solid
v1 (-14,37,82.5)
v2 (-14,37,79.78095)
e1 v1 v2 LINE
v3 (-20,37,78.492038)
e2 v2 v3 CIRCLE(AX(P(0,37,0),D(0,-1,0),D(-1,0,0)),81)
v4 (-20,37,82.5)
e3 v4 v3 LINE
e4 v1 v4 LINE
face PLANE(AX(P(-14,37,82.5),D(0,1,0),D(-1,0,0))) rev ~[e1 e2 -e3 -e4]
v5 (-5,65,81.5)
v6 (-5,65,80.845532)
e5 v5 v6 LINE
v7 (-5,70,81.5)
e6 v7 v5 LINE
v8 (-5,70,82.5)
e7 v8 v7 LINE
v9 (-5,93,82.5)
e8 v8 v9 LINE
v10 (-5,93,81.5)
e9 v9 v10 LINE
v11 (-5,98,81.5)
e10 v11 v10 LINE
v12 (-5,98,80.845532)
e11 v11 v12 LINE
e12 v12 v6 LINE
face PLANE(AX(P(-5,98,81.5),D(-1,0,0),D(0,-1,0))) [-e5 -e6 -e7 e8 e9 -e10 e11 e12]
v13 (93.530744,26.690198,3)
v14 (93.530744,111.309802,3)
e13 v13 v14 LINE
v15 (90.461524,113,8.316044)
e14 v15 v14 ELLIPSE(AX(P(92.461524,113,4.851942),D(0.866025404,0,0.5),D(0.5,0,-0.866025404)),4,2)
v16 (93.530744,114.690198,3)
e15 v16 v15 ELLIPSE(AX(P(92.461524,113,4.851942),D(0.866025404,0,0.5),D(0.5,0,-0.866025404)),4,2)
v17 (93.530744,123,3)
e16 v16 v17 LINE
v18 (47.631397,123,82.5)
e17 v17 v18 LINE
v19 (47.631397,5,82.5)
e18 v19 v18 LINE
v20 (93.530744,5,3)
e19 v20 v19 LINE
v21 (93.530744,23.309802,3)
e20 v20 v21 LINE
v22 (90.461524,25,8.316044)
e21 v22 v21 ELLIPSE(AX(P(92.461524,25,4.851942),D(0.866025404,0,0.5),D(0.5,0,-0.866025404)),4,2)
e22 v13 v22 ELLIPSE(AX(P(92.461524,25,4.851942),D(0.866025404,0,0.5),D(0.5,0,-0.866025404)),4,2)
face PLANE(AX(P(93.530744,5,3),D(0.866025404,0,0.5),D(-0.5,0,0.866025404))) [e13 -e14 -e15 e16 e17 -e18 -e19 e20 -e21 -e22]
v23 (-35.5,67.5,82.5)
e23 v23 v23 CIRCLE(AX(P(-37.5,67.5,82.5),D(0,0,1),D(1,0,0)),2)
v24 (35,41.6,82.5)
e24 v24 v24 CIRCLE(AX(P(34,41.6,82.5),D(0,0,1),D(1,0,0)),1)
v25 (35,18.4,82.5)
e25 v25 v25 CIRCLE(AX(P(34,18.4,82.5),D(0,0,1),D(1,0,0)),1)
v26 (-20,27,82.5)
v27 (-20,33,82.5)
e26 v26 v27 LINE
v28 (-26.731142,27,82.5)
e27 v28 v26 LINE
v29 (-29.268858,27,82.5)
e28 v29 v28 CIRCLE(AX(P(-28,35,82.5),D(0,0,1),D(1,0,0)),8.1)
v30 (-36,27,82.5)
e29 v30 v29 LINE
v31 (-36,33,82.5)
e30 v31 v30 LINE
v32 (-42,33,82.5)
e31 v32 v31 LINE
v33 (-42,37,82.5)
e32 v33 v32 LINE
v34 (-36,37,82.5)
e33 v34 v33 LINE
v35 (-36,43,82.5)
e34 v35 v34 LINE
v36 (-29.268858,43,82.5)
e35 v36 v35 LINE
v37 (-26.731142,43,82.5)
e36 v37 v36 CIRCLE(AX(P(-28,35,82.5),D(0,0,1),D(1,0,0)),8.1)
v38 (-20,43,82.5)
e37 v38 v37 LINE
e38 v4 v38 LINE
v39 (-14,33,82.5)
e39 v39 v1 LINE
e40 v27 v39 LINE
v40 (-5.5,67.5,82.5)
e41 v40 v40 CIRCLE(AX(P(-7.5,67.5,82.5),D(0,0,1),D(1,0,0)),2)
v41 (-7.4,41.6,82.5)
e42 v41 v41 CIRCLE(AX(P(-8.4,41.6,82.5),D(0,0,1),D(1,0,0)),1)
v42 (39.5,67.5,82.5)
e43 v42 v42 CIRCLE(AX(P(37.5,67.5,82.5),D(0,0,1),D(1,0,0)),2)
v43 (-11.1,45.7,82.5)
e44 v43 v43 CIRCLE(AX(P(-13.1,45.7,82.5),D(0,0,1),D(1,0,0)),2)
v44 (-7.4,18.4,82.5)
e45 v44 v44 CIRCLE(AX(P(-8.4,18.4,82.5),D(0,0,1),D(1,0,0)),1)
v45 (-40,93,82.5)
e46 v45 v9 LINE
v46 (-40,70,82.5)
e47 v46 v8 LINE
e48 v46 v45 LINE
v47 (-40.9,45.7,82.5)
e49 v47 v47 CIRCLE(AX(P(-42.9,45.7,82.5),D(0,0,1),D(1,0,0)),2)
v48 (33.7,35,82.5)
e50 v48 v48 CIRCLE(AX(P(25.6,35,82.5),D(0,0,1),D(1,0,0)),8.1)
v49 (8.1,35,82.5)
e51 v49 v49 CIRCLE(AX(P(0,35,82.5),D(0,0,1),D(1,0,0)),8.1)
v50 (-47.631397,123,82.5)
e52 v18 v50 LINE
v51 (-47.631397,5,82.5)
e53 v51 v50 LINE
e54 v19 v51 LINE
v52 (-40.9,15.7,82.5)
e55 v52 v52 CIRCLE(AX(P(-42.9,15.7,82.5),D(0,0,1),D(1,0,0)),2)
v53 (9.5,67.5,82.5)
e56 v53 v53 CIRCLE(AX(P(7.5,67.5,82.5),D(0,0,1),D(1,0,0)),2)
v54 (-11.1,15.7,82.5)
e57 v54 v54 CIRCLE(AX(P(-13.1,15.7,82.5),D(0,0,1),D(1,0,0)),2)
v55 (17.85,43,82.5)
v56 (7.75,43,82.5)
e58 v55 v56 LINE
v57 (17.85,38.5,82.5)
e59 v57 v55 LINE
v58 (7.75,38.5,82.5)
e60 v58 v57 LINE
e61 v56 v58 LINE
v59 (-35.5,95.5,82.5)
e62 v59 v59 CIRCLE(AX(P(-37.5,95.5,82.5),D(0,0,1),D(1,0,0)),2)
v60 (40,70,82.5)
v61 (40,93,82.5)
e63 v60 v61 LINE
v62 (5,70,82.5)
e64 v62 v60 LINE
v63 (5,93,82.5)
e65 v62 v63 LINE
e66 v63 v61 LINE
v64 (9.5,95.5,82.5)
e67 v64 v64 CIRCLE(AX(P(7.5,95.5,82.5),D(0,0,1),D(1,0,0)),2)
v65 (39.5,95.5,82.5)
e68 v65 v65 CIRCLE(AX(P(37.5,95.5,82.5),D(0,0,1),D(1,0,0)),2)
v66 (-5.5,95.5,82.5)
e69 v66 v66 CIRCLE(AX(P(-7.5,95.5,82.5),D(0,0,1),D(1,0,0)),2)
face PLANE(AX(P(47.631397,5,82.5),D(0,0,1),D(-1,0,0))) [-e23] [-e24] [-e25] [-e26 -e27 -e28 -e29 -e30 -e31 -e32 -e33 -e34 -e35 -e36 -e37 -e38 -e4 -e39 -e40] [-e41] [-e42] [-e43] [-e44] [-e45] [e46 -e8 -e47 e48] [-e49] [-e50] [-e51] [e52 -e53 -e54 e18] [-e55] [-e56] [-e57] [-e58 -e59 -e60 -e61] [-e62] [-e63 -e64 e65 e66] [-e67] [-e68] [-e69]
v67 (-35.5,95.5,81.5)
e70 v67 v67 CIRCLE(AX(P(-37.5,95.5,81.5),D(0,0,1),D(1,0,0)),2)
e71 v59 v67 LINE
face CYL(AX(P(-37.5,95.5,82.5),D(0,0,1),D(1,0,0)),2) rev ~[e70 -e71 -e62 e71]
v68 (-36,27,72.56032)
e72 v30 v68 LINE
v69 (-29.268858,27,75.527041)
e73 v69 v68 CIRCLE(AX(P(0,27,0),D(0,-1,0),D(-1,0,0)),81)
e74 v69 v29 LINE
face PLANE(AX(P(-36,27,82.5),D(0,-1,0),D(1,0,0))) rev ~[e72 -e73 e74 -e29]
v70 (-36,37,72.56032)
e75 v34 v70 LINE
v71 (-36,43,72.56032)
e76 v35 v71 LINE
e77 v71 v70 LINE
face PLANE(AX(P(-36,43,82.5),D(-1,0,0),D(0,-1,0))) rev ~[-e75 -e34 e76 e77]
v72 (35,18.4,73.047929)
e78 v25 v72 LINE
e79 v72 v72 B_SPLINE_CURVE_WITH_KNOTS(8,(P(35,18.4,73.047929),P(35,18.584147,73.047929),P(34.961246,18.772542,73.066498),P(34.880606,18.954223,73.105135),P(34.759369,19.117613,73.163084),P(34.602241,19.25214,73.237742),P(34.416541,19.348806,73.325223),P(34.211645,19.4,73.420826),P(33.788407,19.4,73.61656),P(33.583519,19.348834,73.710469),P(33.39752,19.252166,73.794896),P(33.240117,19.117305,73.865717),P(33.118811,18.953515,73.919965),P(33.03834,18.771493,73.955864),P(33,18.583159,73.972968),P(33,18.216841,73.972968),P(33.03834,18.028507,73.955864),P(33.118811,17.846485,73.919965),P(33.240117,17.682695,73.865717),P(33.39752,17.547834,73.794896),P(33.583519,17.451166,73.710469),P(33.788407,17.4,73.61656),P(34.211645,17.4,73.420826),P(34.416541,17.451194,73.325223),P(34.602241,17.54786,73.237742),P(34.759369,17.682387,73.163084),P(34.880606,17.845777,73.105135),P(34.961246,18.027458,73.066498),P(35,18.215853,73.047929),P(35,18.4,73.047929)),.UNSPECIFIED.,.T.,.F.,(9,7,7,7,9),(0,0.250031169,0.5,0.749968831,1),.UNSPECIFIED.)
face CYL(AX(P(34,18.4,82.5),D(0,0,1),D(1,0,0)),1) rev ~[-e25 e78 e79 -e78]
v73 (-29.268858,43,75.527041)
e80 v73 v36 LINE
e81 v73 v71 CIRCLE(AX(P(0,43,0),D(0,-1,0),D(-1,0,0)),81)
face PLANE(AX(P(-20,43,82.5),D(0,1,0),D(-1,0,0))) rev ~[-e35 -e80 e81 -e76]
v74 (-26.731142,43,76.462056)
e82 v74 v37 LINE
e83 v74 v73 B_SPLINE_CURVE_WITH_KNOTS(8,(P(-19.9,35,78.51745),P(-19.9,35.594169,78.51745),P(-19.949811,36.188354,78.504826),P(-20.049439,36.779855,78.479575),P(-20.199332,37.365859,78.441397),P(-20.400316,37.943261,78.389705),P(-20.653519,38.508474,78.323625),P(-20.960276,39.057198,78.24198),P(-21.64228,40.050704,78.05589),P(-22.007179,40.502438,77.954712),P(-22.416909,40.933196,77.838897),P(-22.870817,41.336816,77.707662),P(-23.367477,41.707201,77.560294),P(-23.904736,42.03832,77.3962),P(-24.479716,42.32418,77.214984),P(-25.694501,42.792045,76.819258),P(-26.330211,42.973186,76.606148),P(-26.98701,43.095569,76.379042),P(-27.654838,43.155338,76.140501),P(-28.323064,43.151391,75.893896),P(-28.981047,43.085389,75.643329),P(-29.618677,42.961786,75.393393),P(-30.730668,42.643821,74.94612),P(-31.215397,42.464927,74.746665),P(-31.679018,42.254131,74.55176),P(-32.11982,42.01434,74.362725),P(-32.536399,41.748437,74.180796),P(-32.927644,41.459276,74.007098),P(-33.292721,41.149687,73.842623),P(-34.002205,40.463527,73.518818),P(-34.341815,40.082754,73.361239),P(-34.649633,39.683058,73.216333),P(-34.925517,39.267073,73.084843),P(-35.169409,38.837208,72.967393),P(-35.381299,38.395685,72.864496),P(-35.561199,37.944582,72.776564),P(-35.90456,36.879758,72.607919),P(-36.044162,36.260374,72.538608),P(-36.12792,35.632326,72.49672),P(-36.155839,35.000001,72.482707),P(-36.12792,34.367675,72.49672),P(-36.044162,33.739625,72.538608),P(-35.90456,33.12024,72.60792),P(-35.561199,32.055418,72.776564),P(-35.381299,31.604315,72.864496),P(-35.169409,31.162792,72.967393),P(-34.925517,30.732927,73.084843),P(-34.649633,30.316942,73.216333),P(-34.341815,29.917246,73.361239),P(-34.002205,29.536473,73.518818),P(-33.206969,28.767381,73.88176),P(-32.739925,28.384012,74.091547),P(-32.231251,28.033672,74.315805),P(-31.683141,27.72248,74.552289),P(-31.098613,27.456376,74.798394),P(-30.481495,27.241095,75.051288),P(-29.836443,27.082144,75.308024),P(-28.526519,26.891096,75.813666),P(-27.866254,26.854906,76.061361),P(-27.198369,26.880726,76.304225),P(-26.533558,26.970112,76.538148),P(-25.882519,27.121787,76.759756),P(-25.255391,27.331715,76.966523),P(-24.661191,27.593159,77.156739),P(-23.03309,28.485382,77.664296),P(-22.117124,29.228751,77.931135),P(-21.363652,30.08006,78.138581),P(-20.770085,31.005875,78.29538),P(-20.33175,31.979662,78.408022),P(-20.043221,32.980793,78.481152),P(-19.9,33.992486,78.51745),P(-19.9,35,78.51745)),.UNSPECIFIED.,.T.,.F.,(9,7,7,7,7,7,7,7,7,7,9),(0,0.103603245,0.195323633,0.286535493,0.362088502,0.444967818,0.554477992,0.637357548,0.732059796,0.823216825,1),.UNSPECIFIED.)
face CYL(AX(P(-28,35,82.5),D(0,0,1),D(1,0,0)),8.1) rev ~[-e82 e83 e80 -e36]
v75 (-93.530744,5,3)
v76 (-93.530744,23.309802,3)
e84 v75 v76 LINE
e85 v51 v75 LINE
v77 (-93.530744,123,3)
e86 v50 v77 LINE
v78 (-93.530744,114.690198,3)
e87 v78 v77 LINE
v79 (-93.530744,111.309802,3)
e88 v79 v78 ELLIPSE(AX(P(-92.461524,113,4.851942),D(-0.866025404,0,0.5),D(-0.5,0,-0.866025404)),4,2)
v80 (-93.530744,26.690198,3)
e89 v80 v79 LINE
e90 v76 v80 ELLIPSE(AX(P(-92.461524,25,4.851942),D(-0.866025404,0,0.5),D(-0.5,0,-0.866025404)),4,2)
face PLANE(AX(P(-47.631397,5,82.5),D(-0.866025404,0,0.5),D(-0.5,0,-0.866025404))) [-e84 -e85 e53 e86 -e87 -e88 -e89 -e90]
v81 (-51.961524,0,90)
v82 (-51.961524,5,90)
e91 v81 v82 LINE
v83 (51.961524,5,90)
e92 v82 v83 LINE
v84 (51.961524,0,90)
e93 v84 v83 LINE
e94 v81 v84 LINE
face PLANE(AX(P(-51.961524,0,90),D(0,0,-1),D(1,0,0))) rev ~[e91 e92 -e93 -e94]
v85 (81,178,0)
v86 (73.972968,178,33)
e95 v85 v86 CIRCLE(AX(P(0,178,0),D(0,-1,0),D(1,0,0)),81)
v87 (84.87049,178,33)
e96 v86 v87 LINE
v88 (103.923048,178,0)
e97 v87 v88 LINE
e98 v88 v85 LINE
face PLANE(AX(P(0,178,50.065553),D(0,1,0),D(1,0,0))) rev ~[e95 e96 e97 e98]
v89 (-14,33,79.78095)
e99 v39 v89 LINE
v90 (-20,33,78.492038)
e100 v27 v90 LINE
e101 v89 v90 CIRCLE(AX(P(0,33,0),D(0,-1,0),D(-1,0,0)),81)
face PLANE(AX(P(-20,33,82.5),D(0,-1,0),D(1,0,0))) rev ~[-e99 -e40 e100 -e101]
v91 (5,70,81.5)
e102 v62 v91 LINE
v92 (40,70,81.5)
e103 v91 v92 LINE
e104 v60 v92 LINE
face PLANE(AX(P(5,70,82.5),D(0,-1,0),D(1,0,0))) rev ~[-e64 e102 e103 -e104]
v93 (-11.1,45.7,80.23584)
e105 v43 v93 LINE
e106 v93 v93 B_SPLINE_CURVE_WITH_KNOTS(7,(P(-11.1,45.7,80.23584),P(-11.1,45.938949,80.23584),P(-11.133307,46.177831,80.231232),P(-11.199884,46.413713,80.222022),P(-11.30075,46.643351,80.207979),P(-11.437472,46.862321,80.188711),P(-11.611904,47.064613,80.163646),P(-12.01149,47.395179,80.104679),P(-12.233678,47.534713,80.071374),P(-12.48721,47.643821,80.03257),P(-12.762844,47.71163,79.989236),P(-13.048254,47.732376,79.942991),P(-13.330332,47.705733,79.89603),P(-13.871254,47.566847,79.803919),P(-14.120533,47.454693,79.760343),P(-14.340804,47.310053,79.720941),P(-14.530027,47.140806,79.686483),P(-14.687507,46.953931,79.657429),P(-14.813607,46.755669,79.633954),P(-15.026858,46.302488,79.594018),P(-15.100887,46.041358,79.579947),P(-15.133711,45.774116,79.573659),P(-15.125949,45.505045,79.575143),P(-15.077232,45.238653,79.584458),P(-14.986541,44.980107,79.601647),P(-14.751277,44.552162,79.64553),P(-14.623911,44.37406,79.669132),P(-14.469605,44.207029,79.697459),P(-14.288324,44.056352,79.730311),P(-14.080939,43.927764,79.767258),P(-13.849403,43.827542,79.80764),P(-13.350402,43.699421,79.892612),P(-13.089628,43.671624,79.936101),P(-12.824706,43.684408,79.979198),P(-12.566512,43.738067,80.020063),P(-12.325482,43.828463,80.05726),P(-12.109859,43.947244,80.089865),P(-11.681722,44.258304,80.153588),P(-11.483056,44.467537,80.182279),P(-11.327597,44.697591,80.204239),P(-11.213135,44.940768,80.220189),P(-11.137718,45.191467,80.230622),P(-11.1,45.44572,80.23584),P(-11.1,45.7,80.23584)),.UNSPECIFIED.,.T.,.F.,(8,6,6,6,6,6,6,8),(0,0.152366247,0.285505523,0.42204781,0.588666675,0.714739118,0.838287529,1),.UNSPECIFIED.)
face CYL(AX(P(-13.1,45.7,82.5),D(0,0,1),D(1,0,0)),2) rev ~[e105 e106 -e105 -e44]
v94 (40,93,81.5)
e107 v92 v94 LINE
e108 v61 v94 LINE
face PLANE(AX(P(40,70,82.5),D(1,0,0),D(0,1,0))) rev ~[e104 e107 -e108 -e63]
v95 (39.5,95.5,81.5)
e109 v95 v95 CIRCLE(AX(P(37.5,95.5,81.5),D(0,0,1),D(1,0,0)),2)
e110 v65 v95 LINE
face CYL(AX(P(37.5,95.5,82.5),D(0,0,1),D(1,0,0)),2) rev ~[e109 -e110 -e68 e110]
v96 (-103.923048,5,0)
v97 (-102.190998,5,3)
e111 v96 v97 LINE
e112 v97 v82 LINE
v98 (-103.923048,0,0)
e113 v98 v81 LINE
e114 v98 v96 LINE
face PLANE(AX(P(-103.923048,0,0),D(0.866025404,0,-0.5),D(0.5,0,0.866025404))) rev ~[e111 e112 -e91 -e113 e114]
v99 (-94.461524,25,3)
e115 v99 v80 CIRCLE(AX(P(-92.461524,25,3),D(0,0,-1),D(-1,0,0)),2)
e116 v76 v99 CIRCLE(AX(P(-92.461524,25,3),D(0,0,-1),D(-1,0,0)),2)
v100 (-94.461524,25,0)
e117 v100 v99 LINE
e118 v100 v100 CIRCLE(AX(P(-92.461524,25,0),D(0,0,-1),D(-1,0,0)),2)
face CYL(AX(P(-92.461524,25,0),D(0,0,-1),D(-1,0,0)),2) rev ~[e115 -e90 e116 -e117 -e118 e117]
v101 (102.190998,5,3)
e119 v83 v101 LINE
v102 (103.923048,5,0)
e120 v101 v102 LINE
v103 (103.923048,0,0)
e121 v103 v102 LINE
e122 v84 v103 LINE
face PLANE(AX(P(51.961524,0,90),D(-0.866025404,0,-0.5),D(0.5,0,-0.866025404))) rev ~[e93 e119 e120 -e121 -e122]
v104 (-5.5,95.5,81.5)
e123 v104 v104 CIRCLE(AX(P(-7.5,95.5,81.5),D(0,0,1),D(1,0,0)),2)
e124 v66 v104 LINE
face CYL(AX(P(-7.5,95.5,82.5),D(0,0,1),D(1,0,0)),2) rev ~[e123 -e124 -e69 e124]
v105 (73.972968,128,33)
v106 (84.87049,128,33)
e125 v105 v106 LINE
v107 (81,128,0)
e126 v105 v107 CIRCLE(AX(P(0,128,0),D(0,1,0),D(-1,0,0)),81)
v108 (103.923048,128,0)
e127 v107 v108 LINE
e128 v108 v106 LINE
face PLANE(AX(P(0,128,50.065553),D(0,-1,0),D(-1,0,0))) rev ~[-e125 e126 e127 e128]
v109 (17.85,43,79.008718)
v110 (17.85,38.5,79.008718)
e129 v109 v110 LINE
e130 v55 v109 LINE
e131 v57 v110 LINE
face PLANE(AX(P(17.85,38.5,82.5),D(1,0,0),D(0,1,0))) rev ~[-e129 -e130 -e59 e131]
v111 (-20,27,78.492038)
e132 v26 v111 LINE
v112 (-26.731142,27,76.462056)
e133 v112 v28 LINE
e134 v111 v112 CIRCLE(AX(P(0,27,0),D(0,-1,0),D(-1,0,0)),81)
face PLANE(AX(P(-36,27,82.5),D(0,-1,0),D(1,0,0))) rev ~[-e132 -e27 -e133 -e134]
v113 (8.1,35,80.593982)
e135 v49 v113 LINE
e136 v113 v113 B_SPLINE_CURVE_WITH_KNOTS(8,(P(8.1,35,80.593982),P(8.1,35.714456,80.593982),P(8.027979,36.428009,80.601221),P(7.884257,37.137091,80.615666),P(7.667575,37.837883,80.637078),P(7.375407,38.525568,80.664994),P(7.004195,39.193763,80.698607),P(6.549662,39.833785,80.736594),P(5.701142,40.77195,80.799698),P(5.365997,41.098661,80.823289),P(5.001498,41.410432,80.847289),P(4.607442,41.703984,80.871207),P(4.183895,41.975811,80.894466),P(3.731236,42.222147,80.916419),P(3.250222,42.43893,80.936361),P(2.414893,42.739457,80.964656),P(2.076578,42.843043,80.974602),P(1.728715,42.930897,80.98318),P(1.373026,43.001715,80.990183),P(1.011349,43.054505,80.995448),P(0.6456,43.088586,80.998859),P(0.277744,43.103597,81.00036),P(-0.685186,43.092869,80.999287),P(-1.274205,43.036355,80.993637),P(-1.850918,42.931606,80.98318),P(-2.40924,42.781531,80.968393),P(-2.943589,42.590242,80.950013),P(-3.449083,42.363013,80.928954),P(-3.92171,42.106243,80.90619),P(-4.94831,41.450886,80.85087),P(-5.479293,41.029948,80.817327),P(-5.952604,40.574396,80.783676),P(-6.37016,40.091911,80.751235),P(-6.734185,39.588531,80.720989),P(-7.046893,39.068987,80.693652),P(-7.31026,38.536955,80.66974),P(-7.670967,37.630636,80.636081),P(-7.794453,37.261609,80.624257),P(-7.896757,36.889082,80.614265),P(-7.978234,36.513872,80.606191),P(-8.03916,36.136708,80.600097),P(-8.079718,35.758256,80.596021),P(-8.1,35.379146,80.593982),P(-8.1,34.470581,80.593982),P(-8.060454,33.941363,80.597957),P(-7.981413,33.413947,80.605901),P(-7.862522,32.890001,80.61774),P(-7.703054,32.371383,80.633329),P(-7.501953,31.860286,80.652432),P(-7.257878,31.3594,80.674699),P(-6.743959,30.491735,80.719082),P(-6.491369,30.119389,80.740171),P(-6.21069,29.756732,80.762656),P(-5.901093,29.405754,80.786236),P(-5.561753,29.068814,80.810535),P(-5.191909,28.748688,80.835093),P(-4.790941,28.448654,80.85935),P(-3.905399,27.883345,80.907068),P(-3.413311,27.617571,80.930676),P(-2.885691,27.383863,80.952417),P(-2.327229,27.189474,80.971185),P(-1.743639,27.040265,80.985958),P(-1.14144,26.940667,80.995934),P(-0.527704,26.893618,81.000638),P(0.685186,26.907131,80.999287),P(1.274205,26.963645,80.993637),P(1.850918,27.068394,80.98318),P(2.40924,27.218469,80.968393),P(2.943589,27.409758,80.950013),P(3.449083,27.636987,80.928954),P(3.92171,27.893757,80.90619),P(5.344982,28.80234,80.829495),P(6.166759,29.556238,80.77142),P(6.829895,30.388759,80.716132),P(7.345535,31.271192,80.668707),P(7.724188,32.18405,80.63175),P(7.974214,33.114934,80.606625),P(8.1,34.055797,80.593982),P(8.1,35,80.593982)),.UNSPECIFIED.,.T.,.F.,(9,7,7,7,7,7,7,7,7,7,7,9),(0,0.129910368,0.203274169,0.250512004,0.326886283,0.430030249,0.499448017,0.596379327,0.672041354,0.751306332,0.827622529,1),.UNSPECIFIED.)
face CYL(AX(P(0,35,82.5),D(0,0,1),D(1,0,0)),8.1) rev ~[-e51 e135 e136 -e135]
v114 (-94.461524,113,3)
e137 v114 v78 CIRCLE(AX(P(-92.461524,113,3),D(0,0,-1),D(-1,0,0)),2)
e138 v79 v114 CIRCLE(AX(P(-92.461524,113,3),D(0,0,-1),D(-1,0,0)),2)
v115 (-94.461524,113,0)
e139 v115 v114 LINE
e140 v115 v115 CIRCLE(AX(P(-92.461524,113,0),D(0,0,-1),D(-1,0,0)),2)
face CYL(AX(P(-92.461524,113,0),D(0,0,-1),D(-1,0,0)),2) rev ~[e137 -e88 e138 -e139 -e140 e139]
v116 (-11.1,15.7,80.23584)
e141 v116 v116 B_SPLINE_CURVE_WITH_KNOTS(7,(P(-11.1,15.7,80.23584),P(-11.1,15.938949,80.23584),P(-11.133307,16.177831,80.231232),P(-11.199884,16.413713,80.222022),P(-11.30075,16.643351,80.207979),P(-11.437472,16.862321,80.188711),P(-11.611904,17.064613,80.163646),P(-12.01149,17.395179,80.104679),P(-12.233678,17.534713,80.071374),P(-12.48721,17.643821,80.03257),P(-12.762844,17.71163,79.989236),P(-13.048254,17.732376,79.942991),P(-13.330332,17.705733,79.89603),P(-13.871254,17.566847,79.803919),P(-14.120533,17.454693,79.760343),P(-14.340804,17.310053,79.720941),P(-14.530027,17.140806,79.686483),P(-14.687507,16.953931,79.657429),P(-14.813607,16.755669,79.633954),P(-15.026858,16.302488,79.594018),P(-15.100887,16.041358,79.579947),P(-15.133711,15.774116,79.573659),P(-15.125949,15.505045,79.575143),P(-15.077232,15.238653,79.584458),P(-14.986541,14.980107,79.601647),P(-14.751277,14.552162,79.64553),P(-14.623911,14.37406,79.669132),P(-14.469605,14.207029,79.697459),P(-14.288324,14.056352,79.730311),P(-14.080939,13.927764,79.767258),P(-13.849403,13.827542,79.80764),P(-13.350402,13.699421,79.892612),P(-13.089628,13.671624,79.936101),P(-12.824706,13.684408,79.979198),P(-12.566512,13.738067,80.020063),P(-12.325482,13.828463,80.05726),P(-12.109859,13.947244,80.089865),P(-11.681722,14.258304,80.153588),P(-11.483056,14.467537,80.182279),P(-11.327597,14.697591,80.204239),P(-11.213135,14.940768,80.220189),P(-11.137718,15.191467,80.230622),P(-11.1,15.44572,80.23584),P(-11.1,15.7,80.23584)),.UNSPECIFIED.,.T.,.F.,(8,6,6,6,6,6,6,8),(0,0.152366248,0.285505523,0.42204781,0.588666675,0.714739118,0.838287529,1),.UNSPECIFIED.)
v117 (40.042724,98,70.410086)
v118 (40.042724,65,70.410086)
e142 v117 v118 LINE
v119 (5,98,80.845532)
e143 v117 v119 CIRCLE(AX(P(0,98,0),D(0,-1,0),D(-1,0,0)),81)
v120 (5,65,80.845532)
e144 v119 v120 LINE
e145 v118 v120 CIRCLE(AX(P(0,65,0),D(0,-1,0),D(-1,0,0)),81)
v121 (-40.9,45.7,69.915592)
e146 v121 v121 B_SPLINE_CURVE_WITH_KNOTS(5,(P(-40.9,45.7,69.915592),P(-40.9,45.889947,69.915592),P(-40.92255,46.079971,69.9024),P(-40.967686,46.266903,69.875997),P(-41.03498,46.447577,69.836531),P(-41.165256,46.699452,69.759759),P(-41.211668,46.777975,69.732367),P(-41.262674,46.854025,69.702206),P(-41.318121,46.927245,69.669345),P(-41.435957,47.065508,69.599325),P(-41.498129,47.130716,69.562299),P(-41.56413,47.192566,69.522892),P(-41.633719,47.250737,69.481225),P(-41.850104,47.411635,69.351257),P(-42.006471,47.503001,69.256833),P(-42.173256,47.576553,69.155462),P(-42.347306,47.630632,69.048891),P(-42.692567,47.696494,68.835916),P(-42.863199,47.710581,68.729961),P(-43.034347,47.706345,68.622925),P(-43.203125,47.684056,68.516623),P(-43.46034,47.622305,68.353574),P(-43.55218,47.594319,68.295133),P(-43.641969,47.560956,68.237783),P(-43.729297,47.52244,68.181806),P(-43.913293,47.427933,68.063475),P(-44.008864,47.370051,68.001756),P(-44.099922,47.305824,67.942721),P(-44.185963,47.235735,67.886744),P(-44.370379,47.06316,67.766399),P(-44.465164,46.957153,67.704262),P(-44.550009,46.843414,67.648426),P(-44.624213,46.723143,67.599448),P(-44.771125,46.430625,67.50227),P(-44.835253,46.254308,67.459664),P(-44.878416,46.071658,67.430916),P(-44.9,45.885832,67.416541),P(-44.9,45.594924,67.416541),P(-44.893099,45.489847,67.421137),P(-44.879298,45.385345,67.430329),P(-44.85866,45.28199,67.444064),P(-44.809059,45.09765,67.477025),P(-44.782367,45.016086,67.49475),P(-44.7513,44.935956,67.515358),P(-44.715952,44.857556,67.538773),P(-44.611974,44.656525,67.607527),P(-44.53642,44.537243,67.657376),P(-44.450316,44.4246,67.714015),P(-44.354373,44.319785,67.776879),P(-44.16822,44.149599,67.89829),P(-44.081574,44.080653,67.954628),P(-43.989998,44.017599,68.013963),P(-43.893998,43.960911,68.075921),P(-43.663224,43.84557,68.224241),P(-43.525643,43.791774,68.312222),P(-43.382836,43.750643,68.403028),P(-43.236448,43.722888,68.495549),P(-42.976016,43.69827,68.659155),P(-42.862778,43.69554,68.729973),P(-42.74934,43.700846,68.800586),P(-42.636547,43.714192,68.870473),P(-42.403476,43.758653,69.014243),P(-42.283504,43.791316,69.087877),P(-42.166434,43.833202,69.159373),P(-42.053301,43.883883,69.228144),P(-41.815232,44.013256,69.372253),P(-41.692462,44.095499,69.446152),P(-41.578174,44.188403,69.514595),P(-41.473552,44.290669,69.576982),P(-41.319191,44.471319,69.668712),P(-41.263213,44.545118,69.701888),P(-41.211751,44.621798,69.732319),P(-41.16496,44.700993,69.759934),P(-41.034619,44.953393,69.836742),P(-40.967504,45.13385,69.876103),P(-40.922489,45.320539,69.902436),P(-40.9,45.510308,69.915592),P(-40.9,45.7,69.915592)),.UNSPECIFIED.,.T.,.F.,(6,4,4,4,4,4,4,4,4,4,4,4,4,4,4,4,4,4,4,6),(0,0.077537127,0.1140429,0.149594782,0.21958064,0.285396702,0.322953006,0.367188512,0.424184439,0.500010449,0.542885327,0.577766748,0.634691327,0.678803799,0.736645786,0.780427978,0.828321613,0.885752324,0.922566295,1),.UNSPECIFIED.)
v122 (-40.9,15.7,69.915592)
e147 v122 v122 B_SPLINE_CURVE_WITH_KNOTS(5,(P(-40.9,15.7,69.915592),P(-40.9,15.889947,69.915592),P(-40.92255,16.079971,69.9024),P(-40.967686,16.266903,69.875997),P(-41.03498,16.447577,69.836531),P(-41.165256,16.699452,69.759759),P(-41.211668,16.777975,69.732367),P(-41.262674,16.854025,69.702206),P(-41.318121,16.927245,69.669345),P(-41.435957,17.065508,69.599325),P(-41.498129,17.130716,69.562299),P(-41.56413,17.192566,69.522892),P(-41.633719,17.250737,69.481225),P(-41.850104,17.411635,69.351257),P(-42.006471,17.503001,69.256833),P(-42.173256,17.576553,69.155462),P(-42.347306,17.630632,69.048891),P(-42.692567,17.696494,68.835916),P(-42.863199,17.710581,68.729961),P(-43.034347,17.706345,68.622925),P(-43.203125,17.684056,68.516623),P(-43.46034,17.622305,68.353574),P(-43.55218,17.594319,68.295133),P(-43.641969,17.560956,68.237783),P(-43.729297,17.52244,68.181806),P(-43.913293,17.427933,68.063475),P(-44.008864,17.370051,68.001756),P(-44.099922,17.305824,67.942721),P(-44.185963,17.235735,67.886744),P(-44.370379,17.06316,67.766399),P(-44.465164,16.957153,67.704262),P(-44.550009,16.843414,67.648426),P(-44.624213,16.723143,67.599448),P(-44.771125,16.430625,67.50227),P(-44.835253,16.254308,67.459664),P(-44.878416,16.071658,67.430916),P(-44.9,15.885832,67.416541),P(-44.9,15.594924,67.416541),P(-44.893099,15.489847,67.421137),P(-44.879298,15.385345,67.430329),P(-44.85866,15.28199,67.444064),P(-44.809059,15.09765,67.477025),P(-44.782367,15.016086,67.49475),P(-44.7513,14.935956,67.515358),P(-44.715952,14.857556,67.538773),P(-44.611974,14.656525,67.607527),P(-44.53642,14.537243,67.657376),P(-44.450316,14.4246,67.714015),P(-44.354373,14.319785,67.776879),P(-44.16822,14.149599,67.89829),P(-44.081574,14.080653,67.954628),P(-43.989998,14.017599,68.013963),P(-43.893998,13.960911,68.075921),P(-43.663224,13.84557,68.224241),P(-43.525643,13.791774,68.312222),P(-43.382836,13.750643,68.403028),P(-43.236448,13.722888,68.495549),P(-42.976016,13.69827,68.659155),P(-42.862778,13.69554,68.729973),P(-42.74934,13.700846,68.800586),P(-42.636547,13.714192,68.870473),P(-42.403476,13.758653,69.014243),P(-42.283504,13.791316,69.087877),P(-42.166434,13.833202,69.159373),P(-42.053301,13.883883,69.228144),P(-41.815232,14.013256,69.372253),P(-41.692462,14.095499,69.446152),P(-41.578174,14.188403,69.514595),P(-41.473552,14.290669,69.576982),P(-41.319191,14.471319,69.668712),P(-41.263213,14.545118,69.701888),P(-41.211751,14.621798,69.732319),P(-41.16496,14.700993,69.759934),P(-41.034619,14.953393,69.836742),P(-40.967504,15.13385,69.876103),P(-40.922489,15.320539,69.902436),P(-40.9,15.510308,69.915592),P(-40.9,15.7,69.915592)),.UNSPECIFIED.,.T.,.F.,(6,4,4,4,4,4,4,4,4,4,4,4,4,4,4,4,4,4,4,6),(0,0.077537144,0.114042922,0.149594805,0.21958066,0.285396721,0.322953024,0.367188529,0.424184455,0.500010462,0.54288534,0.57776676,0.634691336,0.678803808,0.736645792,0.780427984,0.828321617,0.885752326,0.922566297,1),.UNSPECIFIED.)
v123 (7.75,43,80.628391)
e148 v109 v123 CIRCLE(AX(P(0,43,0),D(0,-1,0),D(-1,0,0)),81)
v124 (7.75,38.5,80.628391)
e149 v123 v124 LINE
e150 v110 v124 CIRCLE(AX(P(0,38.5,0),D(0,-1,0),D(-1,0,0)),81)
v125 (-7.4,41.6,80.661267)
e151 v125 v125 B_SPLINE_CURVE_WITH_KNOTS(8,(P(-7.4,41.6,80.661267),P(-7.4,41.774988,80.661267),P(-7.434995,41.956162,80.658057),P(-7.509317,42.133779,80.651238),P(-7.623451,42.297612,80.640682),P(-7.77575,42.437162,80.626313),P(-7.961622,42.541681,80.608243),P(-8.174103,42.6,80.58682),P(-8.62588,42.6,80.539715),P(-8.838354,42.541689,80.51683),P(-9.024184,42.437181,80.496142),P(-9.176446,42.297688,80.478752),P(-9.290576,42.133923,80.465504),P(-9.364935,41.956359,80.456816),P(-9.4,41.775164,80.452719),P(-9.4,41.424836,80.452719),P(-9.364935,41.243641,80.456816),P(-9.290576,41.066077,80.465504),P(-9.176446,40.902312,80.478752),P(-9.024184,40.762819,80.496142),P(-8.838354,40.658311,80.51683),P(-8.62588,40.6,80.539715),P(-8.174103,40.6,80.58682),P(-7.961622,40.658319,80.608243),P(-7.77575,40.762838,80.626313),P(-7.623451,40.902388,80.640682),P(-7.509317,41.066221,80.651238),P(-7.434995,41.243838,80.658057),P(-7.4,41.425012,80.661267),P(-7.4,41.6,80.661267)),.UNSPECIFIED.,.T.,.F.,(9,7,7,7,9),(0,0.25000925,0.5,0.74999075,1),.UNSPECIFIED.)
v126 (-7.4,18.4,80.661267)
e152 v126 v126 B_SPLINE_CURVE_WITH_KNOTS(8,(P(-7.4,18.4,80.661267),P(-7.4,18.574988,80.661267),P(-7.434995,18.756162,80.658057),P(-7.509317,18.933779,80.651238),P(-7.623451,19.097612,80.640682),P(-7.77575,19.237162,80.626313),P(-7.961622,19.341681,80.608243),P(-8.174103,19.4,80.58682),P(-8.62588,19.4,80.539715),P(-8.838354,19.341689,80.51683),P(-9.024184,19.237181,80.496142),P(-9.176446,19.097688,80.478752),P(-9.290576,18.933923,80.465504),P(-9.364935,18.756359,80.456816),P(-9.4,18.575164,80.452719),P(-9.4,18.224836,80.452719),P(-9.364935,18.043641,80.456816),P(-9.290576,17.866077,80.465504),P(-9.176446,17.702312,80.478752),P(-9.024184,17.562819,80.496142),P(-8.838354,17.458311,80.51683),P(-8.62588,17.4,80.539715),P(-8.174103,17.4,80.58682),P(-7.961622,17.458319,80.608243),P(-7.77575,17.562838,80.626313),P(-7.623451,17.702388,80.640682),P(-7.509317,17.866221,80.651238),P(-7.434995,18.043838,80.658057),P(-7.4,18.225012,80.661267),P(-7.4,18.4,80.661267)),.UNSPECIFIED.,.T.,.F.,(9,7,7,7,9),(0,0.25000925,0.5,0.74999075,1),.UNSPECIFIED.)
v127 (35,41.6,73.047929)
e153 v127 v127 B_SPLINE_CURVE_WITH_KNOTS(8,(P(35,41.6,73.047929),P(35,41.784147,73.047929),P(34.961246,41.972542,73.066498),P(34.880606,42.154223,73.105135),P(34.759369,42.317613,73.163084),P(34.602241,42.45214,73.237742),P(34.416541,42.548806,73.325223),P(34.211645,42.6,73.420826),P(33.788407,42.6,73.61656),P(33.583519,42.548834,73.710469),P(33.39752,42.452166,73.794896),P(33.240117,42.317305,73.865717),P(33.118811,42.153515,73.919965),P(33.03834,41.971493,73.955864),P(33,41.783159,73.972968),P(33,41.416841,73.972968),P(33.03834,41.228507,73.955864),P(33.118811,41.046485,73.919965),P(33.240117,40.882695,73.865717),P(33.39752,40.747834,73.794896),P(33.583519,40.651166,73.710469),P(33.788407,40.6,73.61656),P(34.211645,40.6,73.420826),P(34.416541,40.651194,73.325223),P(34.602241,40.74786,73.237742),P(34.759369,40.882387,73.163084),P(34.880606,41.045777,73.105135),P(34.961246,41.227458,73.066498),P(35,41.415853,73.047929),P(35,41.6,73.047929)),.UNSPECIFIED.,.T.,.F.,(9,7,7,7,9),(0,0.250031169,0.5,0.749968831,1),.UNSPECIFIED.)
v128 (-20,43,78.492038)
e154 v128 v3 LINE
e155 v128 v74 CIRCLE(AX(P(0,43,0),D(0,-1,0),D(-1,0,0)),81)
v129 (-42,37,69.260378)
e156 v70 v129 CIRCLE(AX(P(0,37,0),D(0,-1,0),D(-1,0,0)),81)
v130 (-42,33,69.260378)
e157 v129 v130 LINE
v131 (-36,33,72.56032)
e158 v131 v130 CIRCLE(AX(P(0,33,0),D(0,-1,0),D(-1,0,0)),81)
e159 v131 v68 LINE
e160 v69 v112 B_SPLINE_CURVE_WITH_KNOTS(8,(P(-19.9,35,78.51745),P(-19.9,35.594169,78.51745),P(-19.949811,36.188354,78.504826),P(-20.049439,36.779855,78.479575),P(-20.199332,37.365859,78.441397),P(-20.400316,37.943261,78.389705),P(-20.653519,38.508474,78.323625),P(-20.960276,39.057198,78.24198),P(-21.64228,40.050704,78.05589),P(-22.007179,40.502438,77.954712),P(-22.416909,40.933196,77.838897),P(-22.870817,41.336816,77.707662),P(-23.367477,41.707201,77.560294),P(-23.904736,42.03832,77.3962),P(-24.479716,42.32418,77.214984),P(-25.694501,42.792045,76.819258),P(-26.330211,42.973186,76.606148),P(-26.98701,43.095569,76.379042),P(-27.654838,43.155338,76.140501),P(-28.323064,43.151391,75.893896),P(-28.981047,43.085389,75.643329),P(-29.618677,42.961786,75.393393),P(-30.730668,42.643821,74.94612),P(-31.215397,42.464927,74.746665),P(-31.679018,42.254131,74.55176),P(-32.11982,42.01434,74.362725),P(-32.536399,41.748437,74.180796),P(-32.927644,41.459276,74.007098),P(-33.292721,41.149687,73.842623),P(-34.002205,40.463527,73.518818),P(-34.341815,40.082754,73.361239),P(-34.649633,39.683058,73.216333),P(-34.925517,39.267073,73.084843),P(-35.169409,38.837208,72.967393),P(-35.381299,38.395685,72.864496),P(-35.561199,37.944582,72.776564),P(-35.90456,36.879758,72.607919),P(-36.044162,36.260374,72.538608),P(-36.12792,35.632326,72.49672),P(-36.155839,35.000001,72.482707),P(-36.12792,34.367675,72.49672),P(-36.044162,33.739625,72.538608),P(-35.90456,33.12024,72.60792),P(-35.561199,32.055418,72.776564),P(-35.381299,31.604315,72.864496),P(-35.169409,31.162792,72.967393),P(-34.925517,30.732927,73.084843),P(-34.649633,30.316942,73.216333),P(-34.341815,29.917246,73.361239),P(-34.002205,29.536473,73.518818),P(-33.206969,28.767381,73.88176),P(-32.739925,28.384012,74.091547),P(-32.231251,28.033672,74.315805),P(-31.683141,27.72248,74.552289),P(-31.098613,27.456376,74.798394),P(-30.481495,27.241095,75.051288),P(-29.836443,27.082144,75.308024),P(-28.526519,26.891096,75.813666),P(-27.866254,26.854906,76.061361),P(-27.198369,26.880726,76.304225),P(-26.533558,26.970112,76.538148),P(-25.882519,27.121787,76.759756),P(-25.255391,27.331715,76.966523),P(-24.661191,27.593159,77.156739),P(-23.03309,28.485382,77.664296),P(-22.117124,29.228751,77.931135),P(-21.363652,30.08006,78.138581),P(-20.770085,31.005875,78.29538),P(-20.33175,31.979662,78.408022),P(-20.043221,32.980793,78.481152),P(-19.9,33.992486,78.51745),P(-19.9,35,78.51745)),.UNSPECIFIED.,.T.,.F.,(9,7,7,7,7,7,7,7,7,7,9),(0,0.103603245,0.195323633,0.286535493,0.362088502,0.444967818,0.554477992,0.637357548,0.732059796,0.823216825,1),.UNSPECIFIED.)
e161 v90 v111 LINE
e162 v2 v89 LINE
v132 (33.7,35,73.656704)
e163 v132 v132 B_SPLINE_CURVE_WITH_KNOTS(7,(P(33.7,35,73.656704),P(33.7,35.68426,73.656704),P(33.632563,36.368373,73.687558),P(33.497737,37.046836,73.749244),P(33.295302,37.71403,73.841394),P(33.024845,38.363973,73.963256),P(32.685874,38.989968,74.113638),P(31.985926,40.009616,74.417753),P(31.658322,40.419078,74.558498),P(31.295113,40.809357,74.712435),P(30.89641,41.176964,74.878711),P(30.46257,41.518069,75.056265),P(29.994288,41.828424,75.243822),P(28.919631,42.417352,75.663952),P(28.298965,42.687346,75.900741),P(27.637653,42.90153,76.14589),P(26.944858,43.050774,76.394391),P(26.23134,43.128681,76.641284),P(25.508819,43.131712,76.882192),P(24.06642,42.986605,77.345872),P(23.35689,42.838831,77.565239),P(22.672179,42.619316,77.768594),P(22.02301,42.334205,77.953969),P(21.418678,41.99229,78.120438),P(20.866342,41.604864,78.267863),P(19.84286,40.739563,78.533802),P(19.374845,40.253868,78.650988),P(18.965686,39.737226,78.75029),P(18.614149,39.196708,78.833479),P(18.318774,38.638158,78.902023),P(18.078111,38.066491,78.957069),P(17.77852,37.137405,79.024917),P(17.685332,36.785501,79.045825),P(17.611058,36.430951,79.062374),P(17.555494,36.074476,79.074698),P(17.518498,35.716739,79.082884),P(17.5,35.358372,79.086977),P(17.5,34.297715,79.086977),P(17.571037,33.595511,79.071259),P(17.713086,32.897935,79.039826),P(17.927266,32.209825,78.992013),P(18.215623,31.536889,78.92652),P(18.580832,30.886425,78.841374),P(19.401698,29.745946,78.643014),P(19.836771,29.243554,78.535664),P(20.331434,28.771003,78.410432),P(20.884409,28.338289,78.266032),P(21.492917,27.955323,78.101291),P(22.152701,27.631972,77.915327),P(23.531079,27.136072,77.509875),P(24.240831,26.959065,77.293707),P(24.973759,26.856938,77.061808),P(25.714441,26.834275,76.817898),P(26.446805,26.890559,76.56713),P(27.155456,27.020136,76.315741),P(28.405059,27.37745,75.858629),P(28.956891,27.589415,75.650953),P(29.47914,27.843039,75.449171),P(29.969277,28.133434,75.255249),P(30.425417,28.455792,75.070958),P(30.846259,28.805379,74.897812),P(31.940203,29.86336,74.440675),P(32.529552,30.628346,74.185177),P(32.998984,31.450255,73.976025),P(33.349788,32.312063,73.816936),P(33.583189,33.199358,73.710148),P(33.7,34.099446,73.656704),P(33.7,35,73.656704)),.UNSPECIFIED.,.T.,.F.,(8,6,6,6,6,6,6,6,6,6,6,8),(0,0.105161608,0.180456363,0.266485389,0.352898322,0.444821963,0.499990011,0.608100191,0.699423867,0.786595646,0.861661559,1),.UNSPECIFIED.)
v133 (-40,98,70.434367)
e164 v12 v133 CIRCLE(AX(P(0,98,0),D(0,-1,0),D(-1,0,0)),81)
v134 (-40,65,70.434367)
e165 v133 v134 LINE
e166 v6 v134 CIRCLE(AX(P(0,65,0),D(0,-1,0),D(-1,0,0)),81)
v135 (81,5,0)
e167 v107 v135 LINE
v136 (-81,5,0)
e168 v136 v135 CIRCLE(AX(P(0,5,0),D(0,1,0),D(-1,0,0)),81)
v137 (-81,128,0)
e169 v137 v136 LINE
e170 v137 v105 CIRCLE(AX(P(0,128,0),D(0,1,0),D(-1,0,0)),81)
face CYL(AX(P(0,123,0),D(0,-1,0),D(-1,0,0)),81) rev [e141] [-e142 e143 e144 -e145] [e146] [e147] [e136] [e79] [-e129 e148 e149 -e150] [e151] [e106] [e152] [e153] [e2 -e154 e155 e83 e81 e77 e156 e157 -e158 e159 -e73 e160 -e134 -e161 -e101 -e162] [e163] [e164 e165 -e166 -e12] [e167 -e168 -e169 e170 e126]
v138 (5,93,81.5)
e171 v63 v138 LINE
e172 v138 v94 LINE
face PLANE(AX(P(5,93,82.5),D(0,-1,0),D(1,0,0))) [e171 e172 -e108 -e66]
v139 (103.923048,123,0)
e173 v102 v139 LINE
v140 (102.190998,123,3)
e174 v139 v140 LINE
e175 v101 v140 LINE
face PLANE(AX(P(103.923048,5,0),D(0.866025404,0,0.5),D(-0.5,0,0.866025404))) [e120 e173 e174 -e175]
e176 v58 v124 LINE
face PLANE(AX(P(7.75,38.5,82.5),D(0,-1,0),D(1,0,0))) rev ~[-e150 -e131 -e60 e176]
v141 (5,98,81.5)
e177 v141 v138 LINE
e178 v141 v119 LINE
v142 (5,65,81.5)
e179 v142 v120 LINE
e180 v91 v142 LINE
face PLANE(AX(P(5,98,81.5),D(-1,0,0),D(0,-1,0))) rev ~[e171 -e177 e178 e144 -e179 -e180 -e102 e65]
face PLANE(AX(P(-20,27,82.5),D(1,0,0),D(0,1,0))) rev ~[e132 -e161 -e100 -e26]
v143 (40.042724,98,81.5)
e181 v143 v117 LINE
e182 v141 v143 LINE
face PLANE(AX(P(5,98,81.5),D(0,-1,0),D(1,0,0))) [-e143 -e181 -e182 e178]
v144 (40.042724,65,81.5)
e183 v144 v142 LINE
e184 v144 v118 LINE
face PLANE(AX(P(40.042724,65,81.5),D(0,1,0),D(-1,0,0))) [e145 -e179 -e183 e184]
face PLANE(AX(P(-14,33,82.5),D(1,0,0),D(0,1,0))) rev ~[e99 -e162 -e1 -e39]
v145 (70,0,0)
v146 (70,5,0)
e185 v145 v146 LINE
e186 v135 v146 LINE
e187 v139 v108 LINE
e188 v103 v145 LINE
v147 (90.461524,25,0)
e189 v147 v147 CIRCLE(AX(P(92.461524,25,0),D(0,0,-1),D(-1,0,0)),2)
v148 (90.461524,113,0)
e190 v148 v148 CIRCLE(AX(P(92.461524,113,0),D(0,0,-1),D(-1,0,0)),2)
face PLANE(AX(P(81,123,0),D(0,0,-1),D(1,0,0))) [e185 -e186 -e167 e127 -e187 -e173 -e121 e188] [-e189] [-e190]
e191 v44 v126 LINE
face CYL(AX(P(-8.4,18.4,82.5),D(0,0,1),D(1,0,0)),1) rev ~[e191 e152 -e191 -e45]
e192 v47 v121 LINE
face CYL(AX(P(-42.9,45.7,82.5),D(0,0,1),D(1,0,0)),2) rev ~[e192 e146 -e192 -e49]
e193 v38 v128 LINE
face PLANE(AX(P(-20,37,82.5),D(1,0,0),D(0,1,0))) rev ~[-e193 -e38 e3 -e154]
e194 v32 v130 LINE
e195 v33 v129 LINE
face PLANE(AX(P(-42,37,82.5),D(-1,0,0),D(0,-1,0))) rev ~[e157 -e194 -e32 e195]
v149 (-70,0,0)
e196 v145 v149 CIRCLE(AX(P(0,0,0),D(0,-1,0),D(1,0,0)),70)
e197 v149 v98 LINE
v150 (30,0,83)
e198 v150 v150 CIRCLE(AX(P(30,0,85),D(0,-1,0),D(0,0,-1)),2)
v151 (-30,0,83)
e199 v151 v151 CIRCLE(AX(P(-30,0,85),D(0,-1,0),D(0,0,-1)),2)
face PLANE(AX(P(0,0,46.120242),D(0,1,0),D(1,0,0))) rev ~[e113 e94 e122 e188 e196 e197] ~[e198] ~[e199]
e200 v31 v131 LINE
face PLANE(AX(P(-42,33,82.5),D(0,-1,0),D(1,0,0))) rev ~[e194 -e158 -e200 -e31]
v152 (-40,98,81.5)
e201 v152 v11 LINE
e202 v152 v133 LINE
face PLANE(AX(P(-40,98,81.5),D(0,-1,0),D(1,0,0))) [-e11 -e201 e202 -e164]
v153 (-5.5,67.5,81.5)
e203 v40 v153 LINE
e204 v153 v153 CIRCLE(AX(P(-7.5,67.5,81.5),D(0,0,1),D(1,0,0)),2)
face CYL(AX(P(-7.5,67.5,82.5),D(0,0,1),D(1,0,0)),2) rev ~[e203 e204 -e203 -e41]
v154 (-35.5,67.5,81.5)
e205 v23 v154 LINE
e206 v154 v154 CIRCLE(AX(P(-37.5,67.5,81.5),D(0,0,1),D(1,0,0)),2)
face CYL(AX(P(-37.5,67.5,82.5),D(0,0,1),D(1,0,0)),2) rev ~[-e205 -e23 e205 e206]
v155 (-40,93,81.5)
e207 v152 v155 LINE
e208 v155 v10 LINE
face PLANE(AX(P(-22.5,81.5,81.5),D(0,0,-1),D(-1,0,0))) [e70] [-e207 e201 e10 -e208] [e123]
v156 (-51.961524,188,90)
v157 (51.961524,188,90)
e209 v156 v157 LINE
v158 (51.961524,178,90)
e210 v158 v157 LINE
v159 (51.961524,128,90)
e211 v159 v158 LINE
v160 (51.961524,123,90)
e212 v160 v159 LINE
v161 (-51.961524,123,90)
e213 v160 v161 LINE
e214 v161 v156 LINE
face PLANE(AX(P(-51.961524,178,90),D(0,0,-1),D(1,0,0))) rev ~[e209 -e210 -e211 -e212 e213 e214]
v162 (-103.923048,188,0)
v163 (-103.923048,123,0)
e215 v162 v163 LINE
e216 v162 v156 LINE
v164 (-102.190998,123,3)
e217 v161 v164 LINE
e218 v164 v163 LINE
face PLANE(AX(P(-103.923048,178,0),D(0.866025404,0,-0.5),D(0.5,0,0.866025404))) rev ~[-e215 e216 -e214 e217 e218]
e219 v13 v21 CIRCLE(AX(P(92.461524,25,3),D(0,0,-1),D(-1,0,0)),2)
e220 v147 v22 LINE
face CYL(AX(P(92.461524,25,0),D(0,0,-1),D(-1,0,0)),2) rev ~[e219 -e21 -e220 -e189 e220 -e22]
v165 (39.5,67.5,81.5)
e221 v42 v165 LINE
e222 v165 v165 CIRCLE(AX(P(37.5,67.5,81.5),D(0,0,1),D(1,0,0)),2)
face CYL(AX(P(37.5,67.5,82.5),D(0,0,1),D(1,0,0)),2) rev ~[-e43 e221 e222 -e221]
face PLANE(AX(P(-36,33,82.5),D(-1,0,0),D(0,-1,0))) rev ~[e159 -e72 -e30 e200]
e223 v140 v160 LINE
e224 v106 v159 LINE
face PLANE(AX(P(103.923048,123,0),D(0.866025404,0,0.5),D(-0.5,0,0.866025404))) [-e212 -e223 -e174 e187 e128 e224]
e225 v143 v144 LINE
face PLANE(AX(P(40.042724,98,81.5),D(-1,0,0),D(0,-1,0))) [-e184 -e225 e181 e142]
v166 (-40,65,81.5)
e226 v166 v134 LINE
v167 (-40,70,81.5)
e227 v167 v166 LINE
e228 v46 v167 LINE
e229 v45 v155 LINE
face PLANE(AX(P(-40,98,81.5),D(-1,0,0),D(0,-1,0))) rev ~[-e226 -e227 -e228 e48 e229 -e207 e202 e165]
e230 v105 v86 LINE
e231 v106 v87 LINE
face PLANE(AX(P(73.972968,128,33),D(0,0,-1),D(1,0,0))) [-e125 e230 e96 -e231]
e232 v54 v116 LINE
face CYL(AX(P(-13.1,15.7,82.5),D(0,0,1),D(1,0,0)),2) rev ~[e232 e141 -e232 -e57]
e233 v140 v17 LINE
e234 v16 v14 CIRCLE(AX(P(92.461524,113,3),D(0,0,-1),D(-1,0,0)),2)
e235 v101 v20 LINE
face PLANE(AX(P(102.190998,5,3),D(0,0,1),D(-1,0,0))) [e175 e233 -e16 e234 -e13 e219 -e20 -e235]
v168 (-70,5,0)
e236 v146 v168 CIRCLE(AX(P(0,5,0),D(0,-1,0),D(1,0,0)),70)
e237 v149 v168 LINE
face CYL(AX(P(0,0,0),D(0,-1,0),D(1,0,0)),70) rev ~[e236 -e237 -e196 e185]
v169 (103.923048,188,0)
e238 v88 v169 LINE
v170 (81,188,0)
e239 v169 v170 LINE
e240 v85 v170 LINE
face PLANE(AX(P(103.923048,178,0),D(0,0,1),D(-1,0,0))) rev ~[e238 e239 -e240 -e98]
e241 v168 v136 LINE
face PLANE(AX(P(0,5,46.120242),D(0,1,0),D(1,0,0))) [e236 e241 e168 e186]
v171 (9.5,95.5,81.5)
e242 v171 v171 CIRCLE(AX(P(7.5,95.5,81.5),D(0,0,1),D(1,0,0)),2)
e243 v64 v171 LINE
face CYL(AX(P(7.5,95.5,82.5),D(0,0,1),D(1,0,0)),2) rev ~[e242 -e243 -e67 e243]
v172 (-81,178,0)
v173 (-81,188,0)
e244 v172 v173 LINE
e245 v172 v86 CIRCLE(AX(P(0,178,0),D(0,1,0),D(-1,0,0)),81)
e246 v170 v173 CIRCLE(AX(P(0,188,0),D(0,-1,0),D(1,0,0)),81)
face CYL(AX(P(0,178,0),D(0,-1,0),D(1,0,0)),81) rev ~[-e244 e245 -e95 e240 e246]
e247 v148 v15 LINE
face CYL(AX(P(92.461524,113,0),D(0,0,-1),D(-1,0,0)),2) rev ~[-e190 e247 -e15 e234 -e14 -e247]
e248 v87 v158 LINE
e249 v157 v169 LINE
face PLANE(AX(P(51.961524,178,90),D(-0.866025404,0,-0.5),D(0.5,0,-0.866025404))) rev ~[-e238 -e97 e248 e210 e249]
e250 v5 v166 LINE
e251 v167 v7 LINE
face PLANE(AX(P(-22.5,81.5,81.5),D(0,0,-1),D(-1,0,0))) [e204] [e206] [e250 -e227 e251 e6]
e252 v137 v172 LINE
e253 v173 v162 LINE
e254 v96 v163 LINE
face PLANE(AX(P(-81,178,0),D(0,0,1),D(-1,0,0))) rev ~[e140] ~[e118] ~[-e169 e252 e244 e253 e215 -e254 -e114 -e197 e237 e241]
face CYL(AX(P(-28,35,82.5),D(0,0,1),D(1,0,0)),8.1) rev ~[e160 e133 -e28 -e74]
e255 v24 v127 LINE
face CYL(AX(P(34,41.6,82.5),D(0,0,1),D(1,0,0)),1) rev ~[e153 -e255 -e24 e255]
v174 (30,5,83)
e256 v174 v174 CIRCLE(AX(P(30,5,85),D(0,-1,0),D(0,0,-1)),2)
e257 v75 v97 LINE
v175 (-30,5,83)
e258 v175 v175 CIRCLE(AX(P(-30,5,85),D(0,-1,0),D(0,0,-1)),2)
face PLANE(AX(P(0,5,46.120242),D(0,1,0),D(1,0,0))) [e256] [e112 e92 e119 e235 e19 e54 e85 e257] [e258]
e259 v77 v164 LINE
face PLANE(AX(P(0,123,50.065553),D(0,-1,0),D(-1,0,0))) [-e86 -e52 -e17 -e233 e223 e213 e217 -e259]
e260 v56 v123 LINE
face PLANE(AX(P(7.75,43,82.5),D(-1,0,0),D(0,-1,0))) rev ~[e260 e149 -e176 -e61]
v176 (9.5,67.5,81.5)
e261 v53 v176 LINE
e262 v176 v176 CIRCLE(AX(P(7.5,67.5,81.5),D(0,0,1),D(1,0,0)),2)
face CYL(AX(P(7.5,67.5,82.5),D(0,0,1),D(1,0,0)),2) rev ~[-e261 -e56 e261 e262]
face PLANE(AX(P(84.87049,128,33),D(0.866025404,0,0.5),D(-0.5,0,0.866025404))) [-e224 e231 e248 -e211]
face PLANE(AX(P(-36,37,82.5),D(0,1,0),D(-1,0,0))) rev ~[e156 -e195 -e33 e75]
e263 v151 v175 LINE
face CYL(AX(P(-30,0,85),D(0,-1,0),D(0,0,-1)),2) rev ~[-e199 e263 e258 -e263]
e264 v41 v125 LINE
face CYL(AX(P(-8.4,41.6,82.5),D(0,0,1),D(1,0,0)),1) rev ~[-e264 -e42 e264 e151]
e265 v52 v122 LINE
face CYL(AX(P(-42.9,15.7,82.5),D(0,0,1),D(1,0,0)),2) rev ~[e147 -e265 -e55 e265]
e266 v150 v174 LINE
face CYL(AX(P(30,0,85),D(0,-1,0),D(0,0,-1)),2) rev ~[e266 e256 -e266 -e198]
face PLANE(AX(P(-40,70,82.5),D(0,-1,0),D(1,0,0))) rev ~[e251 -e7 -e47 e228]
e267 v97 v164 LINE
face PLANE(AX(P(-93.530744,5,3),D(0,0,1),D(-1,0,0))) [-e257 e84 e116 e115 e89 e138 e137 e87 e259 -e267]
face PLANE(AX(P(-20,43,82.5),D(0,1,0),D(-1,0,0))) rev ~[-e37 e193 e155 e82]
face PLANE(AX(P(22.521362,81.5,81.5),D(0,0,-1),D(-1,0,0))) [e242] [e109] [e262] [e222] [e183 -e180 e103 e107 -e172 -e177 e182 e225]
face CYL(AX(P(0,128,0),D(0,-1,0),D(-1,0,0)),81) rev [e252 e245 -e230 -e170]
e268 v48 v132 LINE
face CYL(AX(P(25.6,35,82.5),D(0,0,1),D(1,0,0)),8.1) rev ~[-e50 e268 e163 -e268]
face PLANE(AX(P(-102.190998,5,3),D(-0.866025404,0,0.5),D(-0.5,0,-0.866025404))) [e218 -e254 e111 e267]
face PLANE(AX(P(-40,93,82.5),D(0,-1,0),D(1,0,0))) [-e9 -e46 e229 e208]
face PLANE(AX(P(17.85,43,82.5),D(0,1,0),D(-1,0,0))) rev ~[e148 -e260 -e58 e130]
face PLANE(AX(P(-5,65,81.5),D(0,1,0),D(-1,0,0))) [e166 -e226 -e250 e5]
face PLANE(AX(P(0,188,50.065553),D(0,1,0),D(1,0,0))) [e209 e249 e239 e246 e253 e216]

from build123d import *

# Parameters (mm, degrees)
BOSS_EXTRUDE2_DEPTH = 5
BOSS_EXTRUDE3_DEPTH = 118
BOSS_EXTRUDE4_DEPTH = 5
BOSS_EXTRUDE5_DEPTH = 50
BOSS_EXTRUDE6_DEPTH = 10
SKETCH7_W           = 35
SKETCH7_H           = 23
CUT_EXTRUDE1_DEPTH  = 1
CUT_EXTRUDE2_DEPTH  = 50
SKETCH9_R           = 8.1
CUT_EXTRUDE3_DEPTH  = 10
SKETCH10_R          = 2
CUT_EXTRUDE4_DEPTH  = 10
SKETCH11_R          = 2
CUT_EXTRUDE5_DEPTH  = 10
SKETCH12_R          = 2
CUT_EXTRUDE6_DEPTH  = 10
SKETCH13_R          = 1
CUT_EXTRUDE7_DEPTH  = 10
SKETCH14_R          = 2
SKETCH14_R_2        = 1
CUT_EXTRUDE10_DEPTH = 83
CUT_EXTRUDE11_DEPTH = 83


with BuildPart() as part:
    # Sketch1 → Boss-Extrude2 (new body)
    with BuildSketch(Plane(origin=(0, 0, 0), x_dir=(1, 0, 0), z_dir=(0, 1, 0))):
        with BuildLine():
            Line((-70, 0), (-103.923048454, 0))
            Line((-103.923048454, 0), (-51.961524227, -90))
            Line((-51.961524227, -90), (51.961524227, -90))
            Line((51.961524227, -90), (103.923048454, 0))
            Line((103.923048454, 0), (70, 0))
            ThreePointArc((70, 0), (0, -70), (-70, 0))
        make_face()
    extrude(amount=BOSS_EXTRUDE2_DEPTH)

    # Sketch3 → Boss-Extrude3 (add)
    with BuildSketch(Plane(origin=(0, 5, 0), x_dir=(1, 0, 0), z_dir=(0, 1, 0))):
        with BuildLine():
            Line((-103.923048454, 0), (-81, 0))
            ThreePointArc((-81, 0), (0, -81), (81, 0))
            Line((81, 0), (103.923048454, 0))
            Line((103.923048454, 0), (102.190997647, -3))
            Line((102.190997647, -3), (93.530743609, -3))
            Line((93.530743609, -3), (47.631397208, -82.5))
            Line((47.631397208, -82.5), (-47.631397208, -82.5))
            Line((-47.631397208, -82.5), (-93.530743609, -3))
            Line((-93.530743609, -3), (-102.190997647, -3))
            Line((-102.190997647, -3), (-103.923048454, 0))
        make_face()
    extrude(amount=BOSS_EXTRUDE3_DEPTH)

    # Sketch4 → Boss-Extrude4 (add)
    with BuildSketch(Plane(origin=(0, 123, 0), x_dir=(1, 0, 0), z_dir=(0, 1, 0))):
        with BuildLine():
            Line((-103.923048454, 0), (-81, 0))
            ThreePointArc((-81, 0), (0, -81), (81, 0))
            Line((81, 0), (103.923048454, 0))
            Line((103.923048454, 0), (51.961524227, -90))
            Line((51.961524227, -90), (-51.961524227, -90))
            Line((-51.961524227, -90), (-103.923048454, 0))
        make_face()
    extrude(amount=BOSS_EXTRUDE4_DEPTH)

    # Sketch5 → Boss-Extrude5 (add)
    with BuildSketch(Plane(origin=(0, 128, 0), x_dir=(1, 0, 0), z_dir=(0, 1, 0))):
        with BuildLine():
            Line((84.870489571, -33), (51.961524227, -90))
            Line((51.961524227, -90), (-51.961524227, -90))
            Line((-51.961524227, -90), (-103.923048454, 0))
            Line((-103.923048454, 0), (-81, 0))
            ThreePointArc((-81, 0), (-16.869937598, -79.22376667), (73.972968036, -33))
            Line((73.972968036, -33), (84.870489571, -33))
        make_face()
    extrude(amount=BOSS_EXTRUDE5_DEPTH)

    # Sketch6 → Boss-Extrude6 (add)
    with BuildSketch(Plane(origin=(0, 178, 0), x_dir=(1, 0, 0), z_dir=(0, 1, 0))):
        with BuildLine():
            Line((-103.923048454, 0), (-51.961524227, -90))
            Line((-51.961524227, -90), (51.961524227, -90))
            Line((51.961524227, -90), (103.923048454, 0))
            Line((103.923048454, 0), (81, 0))
            ThreePointArc((81, 0), (0, -81), (-81, 0))
            Line((-81, 0), (-103.923048454, 0))
        make_face()
    extrude(amount=BOSS_EXTRUDE6_DEPTH)

    # Sketch7 → Cut-Extrude1 (cut)
    with BuildSketch(Plane.XY.offset(82.5)):
        with Locations((-22.5, 81.5)):
            Rectangle(SKETCH7_W, SKETCH7_H)
        with Locations((22.5, 81.5)):
            Rectangle(SKETCH7_W, SKETCH7_H)
    extrude(amount=-CUT_EXTRUDE1_DEPTH, mode=Mode.SUBTRACT)

    # Sketch8 → Cut-Extrude2 (cut)
    with BuildSketch(Plane.XY.offset(81.5)):
        Polygon((-40, 93), (-40, 98), (-5, 98), (-5, 65), (-40, 65), (-40, 70), align=None)
        Polygon((5, 70), (5, 98), (40.042724373, 98), (40.042724373, 65), (5, 65), align=None)
    extrude(amount=-CUT_EXTRUDE2_DEPTH, mode=Mode.SUBTRACT)

    # Sketch9 → Cut-Extrude3 (cut)
    with BuildSketch(Plane.XY.offset(82.5)):
        with Locations((0, 35)):
            Circle(SKETCH9_R)
        with Locations((25.6, 35)):
            Circle(SKETCH9_R)
        with Locations((-28, 35)):
            Circle(SKETCH9_R)
    extrude(amount=-CUT_EXTRUDE3_DEPTH, mode=Mode.SUBTRACT)

    # Sketch10 → Cut-Extrude4 (cut)
    with BuildSketch(Plane(origin=(0, 0, 0), x_dir=(-1, 0, 0), z_dir=(0, 0, -1))):
        with Locations((92.461524227, 113)):
            Circle(SKETCH10_R)
        with Locations((-92.461524227, 113)):
            Circle(SKETCH10_R)
        with Locations((-92.461524227, 25)):
            Circle(SKETCH10_R)
        with Locations((92.461524227, 25)):
            Circle(SKETCH10_R)
    extrude(amount=-CUT_EXTRUDE4_DEPTH, mode=Mode.SUBTRACT)

    # Sketch11 → Cut-Extrude5 (cut)
    with BuildSketch(Plane.XZ):
        with Locations(Location((-30, 85, 0), (0, 0, 270))):
            Circle(SKETCH11_R)
        with Locations(Location((30, 85, 0), (0, 0, 270))):
            Circle(SKETCH11_R)
    extrude(amount=-CUT_EXTRUDE5_DEPTH, mode=Mode.SUBTRACT)

    # Sketch12 → Cut-Extrude6 (cut)
    with BuildSketch(Plane.XY.offset(82.5)):
        with Locations((-37.5, 95.5)):
            Circle(SKETCH12_R)
        with Locations((-7.5, 95.5)):
            Circle(SKETCH12_R)
        with Locations((-7.5, 67.5)):
            Circle(SKETCH12_R)
        with Locations((-37.5, 67.5)):
            Circle(SKETCH12_R)
        with Locations((7.5, 67.5)):
            Circle(SKETCH12_R)
        with Locations((37.5, 67.5)):
            Circle(SKETCH12_R)
        with Locations((7.5, 95.5)):
            Circle(SKETCH12_R)
        with Locations((37.5, 95.5)):
            Circle(SKETCH12_R)
    extrude(amount=-CUT_EXTRUDE6_DEPTH, mode=Mode.SUBTRACT)

    # Sketch13 → Cut-Extrude7 (cut)
    with BuildSketch(Plane.XY.offset(82.5)):
        with Locations((-8.4, 41.6)):
            Circle(SKETCH13_R)
        Polygon((7.75, 38.5), (12.8, 38.5), (17.85, 38.5), (17.85, 43), (12.8, 43), (7.75, 43), align=None)
        with Locations((-8.4, 18.4)):
            Circle(SKETCH13_R)
        with Locations((34, 18.4)):
            Circle(SKETCH13_R)
        with Locations((34, 41.6)):
            Circle(SKETCH13_R)
    extrude(amount=-CUT_EXTRUDE7_DEPTH, mode=Mode.SUBTRACT)

    # Sketch14 → Cut-Extrude10 (cut)
    with BuildSketch(Plane.XY.offset(82.5)):
        with Locations((-13.1, 45.7)):
            Circle(SKETCH14_R)
        with Locations((-8.4, 41.6)):
            Circle(SKETCH14_R_2)
        with Locations((-13.1, 15.7)):
            Circle(SKETCH14_R)
        with Locations((-42.9, 15.7)):
            Circle(SKETCH14_R)
        with Locations((-42.9, 45.7)):
            Circle(SKETCH14_R)
    extrude(amount=-CUT_EXTRUDE10_DEPTH, mode=Mode.SUBTRACT)

    # Sketch15 → Cut-Extrude11 (cut)
    with BuildSketch(Plane.XY.offset(82.5)):
        Polygon((-14, 35), (-14, 37), (-20, 37), (-20, 43), (-28, 43), (-36, 43), (-36, 37), (-42, 37), (-42, 35), (-42, 33), (-36, 33), (-36, 27), (-20, 27), (-20, 33), (-14, 33), align=None)
    extrude(amount=-CUT_EXTRUDE11_DEPTH, mode=Mode.SUBTRACT)


solid = part.part
